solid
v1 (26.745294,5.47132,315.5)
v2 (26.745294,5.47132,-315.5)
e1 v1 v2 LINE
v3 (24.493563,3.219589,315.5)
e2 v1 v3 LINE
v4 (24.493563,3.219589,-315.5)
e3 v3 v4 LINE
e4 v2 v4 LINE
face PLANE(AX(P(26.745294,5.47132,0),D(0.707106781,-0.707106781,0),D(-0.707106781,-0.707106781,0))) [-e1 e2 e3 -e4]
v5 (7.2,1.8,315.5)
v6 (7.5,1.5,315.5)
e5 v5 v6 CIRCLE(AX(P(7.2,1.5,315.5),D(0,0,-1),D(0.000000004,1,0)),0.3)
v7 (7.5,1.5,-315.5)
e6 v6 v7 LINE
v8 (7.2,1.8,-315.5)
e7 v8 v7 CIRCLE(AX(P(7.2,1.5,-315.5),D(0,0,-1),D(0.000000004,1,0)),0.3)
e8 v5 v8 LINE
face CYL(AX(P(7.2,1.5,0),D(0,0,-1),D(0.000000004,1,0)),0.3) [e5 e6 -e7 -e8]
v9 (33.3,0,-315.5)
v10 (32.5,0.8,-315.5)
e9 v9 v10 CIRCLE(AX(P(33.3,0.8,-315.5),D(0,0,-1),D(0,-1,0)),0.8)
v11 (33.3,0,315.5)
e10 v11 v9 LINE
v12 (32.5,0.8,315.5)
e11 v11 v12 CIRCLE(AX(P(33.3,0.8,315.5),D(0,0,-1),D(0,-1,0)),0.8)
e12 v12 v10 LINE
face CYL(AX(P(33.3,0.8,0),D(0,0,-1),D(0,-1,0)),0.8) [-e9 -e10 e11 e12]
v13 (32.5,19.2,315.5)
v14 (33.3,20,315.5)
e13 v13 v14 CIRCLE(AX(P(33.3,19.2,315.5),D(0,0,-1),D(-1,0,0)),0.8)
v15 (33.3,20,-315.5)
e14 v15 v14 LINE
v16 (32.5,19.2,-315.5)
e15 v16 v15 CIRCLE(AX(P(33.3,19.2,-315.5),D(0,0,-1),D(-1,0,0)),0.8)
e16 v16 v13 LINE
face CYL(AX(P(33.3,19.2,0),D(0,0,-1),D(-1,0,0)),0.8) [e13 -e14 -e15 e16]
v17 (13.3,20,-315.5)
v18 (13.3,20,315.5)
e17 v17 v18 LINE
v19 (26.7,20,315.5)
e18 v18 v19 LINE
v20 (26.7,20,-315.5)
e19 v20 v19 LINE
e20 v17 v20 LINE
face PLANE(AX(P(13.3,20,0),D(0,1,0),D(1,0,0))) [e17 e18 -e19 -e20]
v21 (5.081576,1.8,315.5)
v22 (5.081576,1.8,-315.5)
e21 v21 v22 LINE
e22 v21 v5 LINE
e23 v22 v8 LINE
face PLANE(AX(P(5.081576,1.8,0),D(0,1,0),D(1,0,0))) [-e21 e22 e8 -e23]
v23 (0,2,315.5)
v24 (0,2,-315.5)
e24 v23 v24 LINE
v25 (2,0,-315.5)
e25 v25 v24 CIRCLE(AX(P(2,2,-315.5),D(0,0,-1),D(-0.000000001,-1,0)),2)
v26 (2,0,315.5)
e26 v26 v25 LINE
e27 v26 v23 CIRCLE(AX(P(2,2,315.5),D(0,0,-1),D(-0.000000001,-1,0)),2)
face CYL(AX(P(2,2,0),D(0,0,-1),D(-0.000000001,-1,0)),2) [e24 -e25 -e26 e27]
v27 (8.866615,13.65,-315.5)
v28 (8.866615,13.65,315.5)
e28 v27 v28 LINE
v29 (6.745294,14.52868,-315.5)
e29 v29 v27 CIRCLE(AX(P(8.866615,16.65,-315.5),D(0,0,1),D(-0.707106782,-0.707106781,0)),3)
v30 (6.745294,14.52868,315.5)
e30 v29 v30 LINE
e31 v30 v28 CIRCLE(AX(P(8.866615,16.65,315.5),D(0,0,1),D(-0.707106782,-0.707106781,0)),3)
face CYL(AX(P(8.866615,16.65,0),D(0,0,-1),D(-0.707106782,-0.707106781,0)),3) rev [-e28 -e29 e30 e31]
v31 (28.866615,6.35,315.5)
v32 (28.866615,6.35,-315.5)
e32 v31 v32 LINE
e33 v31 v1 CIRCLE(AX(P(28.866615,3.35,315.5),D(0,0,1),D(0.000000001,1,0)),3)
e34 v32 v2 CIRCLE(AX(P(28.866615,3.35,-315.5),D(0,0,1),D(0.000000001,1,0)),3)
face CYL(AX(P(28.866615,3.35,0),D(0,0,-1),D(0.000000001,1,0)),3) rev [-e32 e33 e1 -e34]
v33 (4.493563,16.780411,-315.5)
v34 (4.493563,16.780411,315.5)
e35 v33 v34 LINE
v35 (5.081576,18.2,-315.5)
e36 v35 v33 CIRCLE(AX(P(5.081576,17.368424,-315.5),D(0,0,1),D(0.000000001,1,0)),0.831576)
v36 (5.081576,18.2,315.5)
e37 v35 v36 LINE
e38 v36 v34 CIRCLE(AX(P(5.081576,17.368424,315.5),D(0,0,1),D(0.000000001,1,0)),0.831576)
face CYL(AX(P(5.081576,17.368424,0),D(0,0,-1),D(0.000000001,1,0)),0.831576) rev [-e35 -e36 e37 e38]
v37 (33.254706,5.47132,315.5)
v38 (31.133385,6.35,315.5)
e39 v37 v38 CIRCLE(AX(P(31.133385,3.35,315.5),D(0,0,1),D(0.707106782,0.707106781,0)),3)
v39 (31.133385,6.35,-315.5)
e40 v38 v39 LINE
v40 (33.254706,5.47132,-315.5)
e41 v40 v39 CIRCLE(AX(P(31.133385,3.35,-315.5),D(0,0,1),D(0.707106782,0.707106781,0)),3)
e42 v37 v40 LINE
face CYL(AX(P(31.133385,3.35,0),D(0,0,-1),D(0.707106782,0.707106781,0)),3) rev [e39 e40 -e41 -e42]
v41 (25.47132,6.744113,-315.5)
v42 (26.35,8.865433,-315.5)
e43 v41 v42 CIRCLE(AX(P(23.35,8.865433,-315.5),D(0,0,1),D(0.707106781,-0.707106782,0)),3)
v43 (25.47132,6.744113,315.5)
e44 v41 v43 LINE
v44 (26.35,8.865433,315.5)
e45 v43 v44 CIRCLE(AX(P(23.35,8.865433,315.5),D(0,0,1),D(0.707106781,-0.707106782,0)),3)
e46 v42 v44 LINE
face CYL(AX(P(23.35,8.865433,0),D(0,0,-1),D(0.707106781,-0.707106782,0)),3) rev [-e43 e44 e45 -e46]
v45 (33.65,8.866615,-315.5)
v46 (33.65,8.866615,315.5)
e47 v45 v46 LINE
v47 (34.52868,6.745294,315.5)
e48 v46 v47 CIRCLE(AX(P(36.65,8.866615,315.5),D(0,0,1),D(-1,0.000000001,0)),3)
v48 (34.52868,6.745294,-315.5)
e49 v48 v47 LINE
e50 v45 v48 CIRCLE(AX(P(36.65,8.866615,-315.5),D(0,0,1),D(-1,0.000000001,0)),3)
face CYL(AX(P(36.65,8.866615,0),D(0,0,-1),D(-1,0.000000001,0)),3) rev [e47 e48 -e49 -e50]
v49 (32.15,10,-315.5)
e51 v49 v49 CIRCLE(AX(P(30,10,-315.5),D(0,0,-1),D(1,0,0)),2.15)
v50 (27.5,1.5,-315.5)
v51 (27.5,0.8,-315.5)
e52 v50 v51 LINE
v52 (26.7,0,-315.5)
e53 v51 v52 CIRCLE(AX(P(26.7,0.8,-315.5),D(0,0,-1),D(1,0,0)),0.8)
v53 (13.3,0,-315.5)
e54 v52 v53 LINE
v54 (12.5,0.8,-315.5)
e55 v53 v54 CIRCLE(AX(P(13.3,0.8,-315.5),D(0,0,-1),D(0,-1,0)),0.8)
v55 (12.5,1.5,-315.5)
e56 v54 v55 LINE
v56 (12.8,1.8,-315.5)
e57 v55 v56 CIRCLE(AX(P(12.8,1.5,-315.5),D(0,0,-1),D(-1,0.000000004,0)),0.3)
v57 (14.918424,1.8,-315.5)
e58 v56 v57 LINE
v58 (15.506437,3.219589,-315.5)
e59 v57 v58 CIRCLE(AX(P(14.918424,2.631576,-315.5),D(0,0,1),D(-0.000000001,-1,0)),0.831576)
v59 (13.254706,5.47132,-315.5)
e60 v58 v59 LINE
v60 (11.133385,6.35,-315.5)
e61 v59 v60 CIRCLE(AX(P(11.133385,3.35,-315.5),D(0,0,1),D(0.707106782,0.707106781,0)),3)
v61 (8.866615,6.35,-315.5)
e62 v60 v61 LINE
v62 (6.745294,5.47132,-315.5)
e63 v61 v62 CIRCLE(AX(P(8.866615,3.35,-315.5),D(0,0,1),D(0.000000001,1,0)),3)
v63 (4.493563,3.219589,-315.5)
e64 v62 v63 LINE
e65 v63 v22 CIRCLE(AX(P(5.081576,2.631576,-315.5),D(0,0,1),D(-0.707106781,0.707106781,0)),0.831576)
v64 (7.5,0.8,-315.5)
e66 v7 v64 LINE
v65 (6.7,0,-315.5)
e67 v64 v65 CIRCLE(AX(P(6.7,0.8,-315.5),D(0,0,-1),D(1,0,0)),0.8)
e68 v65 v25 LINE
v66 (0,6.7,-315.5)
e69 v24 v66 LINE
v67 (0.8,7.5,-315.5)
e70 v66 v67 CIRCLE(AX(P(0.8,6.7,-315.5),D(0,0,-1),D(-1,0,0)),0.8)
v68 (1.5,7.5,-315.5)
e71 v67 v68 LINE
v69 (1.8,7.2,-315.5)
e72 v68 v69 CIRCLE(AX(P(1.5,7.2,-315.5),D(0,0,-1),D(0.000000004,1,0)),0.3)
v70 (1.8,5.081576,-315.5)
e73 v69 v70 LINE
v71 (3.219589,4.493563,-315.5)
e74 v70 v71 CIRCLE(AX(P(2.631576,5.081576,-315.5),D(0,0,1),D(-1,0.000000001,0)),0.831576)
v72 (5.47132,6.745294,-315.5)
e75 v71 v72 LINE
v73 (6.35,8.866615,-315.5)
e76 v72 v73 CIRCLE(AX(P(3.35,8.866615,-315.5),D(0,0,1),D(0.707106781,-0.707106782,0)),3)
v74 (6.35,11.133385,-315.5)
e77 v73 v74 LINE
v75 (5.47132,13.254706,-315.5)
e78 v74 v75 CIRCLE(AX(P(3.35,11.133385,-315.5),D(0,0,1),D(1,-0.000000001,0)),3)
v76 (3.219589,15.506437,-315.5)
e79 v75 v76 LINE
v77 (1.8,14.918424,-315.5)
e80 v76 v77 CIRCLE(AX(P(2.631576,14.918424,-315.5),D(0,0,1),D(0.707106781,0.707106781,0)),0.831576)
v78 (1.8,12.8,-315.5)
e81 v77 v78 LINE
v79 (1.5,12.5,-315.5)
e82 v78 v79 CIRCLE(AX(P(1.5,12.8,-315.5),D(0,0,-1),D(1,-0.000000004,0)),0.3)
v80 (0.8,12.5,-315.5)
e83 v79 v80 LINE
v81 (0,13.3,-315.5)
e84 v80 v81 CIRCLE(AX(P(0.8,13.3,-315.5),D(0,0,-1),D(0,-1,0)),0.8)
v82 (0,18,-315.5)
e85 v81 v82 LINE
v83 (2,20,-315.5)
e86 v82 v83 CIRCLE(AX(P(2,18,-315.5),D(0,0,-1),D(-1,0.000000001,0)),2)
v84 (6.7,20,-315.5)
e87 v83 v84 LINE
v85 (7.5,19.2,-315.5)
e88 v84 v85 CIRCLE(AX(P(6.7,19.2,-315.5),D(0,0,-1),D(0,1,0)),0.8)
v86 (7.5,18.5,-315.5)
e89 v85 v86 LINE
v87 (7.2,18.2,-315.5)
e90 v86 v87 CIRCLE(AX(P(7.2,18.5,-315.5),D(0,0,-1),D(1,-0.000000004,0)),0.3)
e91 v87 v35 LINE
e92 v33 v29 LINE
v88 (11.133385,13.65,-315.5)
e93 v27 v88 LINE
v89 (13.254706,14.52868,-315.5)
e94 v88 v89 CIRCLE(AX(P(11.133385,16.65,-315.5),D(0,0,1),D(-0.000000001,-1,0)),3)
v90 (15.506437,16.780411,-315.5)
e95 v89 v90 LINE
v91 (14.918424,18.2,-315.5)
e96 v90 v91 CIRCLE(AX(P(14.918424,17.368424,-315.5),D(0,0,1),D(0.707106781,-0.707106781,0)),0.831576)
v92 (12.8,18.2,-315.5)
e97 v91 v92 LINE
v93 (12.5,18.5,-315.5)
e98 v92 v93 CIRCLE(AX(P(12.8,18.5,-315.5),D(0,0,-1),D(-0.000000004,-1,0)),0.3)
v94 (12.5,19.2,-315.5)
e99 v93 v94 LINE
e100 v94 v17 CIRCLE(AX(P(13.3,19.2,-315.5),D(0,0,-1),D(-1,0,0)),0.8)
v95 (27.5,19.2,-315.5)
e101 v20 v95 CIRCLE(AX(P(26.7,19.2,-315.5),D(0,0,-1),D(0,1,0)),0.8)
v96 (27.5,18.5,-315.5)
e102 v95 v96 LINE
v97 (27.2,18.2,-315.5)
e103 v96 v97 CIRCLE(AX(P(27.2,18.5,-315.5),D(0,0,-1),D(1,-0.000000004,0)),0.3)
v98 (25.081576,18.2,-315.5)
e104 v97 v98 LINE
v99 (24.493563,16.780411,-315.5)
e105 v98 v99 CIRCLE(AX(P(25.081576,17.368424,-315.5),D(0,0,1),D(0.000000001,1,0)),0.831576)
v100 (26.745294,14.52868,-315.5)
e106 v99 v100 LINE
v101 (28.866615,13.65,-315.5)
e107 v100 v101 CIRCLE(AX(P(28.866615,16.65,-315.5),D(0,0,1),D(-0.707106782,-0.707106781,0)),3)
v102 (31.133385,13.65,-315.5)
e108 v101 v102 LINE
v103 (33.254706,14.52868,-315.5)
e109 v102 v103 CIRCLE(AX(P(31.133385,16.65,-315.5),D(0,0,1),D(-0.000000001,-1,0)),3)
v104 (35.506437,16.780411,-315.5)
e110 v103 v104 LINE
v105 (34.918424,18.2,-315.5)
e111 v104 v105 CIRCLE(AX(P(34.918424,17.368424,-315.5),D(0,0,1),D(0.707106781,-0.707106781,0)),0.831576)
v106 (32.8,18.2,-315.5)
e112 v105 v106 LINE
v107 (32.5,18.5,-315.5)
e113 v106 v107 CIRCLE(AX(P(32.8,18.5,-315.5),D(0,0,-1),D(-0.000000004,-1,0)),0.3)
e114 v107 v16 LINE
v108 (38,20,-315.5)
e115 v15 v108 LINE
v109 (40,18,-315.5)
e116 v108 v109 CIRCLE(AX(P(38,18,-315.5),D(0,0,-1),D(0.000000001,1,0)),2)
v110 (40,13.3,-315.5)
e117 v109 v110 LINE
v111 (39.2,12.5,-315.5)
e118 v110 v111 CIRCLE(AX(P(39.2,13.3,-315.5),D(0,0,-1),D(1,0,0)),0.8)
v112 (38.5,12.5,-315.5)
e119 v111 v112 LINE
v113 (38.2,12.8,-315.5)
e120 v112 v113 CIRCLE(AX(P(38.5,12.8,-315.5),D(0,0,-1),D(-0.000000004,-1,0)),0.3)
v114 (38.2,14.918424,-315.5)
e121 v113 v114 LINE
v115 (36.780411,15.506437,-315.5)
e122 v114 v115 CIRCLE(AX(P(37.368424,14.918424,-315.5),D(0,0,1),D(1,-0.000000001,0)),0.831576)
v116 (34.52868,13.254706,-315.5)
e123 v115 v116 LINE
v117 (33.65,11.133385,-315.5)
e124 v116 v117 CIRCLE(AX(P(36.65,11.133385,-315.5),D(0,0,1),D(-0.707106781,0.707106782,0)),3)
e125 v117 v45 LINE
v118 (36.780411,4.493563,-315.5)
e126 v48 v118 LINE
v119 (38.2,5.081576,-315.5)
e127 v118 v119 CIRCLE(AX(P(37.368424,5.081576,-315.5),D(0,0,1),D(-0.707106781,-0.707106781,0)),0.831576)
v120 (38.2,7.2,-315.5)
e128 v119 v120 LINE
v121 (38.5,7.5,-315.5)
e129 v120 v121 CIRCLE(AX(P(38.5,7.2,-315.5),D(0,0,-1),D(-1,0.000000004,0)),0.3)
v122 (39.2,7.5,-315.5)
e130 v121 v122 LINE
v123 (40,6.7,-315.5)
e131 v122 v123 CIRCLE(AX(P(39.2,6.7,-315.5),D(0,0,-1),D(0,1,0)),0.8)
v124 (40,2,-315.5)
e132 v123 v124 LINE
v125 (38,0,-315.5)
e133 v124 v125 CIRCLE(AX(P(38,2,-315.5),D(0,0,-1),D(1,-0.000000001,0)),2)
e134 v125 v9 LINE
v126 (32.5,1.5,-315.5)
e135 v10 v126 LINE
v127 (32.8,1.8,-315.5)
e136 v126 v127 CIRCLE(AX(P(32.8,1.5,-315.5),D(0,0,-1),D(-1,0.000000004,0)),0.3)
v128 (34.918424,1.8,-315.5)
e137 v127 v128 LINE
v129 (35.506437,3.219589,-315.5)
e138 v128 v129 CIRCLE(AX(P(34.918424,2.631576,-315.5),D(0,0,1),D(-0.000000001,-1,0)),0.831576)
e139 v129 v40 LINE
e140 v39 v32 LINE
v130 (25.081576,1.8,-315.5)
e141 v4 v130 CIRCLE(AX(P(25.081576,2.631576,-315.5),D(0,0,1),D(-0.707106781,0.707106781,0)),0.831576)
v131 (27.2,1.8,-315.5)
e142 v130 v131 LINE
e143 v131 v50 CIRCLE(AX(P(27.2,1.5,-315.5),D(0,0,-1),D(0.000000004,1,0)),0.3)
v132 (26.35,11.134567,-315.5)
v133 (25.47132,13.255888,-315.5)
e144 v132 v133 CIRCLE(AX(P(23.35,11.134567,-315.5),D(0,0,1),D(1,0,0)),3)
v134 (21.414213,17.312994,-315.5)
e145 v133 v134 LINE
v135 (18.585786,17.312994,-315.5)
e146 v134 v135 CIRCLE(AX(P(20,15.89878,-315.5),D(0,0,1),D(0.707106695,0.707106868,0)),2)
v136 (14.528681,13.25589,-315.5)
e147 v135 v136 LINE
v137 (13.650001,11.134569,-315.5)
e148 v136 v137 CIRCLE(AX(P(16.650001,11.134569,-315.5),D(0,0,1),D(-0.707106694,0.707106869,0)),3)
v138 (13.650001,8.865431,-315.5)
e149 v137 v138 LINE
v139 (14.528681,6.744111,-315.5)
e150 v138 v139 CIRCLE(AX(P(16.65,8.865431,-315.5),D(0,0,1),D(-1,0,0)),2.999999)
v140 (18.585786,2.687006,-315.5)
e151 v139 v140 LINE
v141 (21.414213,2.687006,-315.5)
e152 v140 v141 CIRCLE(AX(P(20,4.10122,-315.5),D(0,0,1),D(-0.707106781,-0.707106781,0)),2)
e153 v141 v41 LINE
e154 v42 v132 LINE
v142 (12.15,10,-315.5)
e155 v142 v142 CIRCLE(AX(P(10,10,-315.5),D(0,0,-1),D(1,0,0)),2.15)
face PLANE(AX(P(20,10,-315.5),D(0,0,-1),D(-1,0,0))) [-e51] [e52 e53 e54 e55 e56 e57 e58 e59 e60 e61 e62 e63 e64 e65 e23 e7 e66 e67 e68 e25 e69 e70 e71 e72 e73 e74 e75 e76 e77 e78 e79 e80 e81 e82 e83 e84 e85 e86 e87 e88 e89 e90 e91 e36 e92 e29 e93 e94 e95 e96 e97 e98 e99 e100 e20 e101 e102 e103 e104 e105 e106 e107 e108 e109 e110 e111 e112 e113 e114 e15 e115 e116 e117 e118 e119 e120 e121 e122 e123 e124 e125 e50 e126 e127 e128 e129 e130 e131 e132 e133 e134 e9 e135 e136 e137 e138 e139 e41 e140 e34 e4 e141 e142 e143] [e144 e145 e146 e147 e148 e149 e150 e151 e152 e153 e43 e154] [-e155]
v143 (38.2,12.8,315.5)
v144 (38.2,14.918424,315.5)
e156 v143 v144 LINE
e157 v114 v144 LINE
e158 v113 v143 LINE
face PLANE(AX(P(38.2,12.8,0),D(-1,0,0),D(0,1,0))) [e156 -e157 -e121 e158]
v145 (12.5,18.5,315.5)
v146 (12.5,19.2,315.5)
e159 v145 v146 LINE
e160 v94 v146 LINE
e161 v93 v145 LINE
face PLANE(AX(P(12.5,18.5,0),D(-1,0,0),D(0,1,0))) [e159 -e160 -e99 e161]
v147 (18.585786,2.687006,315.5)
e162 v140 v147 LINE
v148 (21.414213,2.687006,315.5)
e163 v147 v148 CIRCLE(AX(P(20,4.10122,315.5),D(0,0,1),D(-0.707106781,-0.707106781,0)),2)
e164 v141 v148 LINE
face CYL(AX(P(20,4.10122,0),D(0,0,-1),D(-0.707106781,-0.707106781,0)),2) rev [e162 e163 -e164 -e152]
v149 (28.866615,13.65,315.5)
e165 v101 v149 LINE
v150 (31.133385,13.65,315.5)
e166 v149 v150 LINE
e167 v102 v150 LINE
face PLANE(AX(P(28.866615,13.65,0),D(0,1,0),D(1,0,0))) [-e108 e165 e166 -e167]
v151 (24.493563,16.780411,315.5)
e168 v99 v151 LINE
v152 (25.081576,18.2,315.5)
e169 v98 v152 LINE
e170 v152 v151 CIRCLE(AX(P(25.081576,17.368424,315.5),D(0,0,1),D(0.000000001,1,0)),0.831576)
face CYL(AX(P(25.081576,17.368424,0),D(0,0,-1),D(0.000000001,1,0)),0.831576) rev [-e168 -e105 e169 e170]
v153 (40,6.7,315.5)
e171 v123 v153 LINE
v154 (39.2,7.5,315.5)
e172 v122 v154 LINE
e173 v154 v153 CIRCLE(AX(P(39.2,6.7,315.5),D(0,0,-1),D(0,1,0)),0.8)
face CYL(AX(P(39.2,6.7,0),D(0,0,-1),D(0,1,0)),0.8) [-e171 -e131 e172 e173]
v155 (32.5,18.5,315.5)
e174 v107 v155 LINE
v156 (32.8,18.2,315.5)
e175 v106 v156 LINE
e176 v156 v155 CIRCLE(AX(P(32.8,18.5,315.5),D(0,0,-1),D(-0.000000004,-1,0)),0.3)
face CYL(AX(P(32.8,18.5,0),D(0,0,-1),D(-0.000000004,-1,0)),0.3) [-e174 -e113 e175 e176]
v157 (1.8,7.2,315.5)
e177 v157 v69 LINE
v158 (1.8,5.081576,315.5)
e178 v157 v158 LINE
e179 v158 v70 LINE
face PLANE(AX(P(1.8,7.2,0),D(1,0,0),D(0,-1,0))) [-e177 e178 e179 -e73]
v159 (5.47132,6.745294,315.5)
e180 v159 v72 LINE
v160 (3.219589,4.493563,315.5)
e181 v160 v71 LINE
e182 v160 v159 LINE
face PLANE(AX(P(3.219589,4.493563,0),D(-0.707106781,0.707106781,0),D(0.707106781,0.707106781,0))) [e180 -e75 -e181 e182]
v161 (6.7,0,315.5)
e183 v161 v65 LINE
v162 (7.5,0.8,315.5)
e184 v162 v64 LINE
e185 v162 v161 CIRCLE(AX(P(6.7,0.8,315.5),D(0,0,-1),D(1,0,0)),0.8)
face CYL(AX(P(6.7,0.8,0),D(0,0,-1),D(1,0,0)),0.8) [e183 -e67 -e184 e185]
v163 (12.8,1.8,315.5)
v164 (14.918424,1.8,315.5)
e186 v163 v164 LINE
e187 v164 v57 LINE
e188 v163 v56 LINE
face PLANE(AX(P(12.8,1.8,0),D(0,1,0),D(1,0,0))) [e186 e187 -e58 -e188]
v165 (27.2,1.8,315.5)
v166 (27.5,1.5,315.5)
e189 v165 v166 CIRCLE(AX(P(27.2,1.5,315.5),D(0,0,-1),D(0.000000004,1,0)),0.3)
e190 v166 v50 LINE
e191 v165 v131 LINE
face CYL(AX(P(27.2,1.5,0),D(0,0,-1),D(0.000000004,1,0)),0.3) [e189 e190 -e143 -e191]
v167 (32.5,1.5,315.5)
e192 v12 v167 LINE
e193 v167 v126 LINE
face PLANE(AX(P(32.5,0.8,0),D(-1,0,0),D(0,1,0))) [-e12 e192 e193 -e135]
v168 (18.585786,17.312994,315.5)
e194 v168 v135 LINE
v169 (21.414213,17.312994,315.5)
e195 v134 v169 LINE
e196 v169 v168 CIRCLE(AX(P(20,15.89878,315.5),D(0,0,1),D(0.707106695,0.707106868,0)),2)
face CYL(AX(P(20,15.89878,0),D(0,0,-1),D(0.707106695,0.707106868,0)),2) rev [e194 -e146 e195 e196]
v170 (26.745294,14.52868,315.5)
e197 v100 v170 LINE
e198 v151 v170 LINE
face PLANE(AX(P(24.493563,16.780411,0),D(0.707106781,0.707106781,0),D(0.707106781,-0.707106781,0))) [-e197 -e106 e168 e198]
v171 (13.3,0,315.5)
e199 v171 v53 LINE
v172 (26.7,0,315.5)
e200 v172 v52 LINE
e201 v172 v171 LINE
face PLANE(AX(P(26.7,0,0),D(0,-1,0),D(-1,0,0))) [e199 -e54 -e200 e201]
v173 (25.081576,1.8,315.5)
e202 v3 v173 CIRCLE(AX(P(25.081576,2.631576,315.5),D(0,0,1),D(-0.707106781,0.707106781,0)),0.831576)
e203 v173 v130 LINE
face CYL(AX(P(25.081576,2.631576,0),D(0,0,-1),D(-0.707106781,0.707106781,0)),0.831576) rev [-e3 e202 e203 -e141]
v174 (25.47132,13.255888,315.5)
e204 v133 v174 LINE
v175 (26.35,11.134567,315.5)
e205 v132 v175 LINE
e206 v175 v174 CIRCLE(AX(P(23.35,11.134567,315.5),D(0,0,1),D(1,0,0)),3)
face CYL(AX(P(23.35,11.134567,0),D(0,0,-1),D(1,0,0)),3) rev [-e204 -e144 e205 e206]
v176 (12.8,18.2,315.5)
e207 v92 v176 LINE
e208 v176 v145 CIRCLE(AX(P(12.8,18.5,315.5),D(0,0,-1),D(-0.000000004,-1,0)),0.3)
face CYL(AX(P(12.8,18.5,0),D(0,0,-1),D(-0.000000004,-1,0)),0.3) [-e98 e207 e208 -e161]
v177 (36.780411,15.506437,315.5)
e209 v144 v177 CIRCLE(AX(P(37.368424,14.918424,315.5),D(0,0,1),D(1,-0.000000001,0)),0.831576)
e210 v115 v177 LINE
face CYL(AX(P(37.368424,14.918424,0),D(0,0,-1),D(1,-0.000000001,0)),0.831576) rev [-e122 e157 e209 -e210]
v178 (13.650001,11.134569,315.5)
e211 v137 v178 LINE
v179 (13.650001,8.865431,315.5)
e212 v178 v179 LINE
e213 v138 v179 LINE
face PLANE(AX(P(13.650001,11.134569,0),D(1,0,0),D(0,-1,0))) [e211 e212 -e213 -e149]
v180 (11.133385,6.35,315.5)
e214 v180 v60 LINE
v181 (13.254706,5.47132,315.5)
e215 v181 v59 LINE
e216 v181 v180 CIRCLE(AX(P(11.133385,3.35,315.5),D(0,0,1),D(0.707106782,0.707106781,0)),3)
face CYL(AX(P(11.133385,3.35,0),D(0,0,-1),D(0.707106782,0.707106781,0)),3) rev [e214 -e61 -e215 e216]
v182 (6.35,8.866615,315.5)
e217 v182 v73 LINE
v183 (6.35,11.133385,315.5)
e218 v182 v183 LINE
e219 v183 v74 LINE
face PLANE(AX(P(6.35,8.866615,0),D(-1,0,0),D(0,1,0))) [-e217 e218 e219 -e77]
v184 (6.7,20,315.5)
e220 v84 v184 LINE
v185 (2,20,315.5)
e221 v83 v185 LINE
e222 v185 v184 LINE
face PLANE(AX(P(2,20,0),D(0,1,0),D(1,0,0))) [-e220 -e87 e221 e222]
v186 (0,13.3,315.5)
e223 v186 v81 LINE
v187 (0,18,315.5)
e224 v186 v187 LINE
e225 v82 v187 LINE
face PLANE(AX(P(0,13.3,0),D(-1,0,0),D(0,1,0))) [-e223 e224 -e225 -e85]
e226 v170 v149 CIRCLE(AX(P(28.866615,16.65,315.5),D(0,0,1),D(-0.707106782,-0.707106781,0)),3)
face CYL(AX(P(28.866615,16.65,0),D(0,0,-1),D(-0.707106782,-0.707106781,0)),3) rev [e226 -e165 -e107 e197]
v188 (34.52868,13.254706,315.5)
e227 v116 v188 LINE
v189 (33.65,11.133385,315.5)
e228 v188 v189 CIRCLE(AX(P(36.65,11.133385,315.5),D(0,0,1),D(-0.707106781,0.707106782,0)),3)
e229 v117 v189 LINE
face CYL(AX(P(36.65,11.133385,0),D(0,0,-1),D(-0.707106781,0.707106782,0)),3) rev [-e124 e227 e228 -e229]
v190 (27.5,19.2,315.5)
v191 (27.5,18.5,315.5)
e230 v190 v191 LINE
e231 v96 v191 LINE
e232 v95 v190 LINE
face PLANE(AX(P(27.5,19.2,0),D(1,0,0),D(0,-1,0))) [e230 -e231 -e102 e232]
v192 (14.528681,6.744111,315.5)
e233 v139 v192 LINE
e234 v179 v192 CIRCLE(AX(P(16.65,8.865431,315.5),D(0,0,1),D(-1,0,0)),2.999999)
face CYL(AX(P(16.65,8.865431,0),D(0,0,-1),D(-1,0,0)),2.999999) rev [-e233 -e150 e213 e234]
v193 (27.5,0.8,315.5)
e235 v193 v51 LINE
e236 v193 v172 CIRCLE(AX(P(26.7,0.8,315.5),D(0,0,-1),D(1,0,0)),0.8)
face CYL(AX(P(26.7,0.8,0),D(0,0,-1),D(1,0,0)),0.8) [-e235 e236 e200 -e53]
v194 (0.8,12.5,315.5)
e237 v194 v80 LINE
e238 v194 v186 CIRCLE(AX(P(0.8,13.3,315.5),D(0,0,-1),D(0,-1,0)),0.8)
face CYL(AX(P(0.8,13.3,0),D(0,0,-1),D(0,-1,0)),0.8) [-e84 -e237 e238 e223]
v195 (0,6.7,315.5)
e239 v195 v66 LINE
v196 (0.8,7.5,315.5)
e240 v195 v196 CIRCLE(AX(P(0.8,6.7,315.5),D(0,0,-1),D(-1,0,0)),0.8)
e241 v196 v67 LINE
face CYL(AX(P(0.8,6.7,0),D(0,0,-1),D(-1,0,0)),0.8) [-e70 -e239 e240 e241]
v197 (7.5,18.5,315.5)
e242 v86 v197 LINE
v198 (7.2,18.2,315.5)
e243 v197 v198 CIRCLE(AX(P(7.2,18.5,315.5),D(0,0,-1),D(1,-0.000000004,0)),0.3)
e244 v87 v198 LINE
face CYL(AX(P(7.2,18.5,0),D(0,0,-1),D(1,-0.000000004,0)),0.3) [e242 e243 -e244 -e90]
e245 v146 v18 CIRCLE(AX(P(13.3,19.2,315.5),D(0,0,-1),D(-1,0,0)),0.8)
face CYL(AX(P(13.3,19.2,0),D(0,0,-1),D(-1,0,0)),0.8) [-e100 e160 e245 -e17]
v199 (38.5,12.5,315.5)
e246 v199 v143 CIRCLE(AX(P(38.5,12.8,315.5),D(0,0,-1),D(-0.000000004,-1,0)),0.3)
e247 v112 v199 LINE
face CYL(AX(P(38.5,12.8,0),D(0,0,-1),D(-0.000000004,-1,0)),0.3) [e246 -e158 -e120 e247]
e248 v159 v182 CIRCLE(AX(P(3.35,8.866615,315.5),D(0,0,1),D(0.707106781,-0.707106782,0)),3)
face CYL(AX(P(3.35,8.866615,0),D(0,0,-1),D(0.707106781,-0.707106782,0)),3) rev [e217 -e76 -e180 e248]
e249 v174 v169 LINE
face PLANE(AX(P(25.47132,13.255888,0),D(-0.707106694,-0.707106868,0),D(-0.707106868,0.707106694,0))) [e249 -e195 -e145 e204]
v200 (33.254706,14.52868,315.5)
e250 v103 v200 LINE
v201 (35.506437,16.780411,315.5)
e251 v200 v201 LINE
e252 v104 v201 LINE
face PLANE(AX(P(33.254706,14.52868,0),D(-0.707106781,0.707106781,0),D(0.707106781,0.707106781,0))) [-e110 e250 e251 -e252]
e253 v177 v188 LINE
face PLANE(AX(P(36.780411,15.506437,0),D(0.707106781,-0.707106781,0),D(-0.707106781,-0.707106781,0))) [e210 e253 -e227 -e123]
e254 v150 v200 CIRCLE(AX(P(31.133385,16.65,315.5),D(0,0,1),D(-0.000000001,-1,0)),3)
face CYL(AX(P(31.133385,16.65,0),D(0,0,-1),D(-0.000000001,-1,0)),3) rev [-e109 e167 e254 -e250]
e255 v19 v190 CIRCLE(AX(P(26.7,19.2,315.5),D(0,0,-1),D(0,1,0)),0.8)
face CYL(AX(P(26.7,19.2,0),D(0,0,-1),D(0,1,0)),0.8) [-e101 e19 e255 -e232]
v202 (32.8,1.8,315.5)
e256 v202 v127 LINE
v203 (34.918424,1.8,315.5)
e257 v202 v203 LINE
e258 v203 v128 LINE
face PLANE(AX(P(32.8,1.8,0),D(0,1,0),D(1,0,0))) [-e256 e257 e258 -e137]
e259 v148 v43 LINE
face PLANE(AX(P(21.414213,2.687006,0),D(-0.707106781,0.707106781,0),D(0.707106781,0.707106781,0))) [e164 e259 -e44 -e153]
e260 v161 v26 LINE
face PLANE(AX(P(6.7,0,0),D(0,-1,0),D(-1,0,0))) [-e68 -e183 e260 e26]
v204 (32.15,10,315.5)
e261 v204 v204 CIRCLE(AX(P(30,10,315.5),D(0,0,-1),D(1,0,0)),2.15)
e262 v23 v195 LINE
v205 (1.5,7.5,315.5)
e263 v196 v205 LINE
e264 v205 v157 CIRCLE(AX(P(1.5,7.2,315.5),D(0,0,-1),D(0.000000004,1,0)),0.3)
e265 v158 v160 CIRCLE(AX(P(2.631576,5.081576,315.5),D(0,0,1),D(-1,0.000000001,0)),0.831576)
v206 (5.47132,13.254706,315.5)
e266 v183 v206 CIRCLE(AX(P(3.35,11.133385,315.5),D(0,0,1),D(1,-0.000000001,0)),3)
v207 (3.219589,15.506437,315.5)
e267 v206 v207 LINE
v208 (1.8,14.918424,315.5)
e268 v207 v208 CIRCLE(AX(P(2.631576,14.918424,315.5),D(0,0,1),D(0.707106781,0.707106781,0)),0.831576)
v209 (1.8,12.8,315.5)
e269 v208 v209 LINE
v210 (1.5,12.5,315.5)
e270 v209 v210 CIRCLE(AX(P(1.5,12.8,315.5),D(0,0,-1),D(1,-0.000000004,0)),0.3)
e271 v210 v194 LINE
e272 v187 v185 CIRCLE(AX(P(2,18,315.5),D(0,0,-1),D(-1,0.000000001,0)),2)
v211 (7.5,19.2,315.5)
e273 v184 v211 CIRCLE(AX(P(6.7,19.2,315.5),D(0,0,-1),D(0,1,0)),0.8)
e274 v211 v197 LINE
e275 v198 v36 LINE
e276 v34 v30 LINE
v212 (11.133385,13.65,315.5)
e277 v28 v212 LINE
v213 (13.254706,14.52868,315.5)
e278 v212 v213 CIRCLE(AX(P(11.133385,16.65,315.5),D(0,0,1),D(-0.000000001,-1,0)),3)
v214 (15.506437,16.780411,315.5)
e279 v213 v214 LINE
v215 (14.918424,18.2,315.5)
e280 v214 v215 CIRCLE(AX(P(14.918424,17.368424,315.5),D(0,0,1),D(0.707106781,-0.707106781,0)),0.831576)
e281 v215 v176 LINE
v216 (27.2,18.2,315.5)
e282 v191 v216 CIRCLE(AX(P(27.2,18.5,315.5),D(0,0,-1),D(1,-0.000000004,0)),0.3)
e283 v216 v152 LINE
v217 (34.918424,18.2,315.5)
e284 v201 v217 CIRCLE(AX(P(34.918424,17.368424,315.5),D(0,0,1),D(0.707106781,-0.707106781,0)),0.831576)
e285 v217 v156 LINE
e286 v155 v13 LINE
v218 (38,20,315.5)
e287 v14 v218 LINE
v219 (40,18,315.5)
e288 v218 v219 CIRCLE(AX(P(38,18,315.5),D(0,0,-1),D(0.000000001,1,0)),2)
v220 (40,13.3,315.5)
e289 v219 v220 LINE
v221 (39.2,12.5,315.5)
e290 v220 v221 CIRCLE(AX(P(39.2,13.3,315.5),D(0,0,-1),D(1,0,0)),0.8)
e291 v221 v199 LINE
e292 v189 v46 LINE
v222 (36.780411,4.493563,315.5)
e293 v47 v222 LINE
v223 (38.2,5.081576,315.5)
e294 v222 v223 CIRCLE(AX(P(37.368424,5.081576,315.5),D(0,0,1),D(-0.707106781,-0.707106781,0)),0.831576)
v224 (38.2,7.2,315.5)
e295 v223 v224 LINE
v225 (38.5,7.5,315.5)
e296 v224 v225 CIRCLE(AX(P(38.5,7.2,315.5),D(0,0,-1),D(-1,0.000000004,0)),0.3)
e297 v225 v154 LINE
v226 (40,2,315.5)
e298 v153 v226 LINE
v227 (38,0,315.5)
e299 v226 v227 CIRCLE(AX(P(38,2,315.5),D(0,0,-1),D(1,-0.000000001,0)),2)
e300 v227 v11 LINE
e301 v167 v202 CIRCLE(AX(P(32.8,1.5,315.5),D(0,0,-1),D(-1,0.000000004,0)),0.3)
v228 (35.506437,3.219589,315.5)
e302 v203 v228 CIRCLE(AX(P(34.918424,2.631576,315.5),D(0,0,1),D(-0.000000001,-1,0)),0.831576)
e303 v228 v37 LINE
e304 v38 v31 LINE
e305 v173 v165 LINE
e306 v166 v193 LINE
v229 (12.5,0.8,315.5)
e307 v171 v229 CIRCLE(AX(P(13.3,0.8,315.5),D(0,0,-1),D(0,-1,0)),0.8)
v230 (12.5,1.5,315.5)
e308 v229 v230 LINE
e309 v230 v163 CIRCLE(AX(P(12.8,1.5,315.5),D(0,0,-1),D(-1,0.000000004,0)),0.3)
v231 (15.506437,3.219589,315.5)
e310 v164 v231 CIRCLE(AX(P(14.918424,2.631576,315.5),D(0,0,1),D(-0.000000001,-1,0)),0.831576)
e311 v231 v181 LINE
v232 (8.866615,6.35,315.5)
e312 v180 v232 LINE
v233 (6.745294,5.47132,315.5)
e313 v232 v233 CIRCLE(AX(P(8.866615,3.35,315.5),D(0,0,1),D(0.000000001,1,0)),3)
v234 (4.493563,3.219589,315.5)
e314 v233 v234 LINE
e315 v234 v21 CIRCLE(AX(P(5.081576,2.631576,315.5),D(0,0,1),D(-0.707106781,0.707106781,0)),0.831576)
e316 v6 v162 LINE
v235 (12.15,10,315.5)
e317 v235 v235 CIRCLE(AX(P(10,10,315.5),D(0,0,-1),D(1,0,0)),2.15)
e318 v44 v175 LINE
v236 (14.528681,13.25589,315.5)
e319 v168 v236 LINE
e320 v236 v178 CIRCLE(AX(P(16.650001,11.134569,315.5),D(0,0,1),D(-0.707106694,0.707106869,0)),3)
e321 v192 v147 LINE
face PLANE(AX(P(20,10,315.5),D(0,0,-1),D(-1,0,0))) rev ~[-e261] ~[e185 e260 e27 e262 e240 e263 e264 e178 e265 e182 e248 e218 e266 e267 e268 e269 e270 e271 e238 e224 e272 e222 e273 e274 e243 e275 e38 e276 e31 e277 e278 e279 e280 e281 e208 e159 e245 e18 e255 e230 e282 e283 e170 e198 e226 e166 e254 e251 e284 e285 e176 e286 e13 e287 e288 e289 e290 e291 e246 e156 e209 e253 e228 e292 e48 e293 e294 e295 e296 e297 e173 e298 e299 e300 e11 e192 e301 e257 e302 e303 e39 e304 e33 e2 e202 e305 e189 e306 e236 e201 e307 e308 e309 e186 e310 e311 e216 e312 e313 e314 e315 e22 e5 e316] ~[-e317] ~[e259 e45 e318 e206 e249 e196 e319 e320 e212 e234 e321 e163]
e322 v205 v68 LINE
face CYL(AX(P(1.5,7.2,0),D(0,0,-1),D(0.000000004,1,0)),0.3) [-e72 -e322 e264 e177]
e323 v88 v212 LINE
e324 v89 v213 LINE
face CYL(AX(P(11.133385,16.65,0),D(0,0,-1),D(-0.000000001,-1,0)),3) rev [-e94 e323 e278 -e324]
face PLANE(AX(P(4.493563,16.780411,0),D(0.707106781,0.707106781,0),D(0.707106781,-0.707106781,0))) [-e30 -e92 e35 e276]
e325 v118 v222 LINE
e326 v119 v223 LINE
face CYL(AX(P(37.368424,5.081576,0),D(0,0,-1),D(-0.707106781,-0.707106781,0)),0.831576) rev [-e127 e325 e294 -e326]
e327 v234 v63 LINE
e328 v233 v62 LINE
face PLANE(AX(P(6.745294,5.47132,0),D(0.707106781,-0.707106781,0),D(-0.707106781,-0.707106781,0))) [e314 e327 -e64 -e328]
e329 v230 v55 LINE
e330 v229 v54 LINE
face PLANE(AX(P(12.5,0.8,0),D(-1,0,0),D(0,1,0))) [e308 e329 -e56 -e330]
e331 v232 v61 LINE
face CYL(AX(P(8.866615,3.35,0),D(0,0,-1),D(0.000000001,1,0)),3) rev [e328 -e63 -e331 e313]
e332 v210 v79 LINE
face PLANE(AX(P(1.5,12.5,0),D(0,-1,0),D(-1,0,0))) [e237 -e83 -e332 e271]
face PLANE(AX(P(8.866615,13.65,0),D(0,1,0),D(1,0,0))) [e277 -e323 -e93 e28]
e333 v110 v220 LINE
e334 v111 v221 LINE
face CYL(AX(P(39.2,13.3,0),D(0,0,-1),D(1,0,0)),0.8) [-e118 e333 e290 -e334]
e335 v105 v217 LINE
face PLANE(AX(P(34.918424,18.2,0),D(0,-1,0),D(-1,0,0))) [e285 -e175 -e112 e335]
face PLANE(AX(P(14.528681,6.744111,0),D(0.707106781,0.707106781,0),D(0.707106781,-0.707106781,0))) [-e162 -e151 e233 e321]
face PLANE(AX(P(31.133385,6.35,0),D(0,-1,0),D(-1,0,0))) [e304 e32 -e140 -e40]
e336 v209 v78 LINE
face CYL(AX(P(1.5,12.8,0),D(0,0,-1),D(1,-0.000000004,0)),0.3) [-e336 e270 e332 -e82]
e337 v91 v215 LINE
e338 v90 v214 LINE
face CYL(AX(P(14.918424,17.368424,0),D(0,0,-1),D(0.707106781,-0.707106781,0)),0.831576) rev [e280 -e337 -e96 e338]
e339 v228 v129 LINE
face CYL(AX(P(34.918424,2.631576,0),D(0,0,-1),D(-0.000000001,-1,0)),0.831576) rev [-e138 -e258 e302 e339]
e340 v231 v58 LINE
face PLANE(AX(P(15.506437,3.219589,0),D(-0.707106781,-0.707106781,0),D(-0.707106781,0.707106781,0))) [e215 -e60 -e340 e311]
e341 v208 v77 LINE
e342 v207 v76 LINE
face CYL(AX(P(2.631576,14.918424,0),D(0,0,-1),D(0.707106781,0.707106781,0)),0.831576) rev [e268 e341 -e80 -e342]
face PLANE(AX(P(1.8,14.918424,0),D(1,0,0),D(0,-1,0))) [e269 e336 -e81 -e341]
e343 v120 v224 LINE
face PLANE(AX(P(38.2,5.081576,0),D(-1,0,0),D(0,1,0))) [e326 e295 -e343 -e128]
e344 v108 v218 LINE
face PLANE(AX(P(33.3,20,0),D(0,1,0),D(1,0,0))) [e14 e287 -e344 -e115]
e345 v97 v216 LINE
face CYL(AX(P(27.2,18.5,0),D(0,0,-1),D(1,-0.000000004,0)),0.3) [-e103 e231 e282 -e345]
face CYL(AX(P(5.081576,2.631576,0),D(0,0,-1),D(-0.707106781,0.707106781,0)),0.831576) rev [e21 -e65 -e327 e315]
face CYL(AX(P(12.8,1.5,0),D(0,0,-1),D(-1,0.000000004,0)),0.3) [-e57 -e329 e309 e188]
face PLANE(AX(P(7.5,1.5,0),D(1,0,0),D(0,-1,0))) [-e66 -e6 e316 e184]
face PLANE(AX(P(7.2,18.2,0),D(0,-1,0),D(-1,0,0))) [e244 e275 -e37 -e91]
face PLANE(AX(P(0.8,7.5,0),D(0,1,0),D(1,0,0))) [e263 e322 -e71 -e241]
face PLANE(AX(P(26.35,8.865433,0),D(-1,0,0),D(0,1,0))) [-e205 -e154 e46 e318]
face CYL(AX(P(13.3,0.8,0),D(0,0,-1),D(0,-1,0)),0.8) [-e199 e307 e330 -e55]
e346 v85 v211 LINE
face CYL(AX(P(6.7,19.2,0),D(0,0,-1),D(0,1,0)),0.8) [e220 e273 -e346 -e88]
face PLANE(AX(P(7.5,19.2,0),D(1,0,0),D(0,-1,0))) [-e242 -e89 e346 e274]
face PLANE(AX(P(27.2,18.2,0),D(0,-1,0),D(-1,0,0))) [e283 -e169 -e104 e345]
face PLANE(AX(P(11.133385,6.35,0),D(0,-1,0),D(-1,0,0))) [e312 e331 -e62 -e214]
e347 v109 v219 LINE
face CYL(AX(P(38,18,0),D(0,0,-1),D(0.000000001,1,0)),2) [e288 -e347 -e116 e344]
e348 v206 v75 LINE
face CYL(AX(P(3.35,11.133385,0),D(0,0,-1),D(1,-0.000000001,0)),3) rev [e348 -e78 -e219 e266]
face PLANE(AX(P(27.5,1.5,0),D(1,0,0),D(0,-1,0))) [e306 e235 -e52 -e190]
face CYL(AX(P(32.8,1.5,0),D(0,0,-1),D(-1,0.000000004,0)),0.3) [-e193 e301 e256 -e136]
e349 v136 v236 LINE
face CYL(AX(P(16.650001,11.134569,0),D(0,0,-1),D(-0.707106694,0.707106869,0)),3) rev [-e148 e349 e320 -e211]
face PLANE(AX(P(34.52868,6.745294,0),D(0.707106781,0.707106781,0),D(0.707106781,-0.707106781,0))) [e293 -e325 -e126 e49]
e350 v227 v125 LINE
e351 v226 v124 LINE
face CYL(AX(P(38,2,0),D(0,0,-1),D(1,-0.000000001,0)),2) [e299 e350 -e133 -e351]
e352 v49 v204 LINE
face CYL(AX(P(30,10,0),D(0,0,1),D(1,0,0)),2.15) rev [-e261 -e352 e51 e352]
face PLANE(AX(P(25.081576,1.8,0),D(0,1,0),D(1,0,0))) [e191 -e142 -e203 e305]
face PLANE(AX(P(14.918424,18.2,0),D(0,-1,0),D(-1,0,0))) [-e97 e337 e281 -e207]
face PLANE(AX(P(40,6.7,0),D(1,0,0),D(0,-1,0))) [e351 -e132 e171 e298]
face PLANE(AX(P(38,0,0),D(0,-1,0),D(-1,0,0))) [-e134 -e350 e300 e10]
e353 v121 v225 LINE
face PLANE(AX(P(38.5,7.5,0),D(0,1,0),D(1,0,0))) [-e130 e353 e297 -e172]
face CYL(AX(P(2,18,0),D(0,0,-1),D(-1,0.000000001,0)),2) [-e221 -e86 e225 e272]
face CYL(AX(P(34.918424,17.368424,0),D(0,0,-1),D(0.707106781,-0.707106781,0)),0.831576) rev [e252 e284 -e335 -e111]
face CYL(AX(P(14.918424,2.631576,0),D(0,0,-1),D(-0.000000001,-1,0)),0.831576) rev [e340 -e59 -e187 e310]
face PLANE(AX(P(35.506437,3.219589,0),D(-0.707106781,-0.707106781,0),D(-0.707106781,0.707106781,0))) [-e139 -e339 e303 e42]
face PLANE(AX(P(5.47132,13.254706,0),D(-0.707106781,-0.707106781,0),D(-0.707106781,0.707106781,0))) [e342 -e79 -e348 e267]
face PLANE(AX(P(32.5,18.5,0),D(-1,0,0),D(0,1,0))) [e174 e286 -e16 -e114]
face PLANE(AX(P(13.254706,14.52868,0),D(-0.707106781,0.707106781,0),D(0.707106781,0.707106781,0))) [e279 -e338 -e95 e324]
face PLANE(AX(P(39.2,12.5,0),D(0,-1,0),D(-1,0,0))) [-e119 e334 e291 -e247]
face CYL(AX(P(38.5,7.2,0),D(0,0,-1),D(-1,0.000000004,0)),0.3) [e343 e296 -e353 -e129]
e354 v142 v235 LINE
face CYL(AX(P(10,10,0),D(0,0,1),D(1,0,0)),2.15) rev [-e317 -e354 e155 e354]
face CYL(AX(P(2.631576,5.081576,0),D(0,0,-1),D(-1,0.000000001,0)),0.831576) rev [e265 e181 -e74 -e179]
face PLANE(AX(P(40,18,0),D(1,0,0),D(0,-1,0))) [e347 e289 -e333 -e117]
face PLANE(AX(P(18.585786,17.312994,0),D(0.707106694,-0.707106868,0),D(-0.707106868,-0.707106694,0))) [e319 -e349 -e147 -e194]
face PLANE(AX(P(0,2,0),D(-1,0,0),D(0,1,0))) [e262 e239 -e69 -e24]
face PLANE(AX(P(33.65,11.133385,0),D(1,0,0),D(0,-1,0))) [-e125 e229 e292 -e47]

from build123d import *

# Parameters (mm, degrees)
ESQUISSE1_R        = 2.15
BOSS_EXTRU_1_DEPTH = 315.5


with BuildPart() as part:
    # Esquisse1 → Boss.-Extru.1 (new, symmetric)
    with BuildSketch(Plane(origin=(0, 0, 0), x_dir=(-1, 0, 0), z_dir=(0, 0, -1))):
        with BuildLine():
            Line((-40, 6.7), (-40, 2))
            ThreePointArc((-40, 2), (-39.414213562, 0.585786438), (-38, 0))
            Line((-38, 0), (-33.3, 0))
            ThreePointArc((-33.3, 0), (-32.734314575, 0.234314575), (-32.5, 0.8))
            Line((-32.5, 0.8), (-32.5, 1.5))
            ThreePointArc((-32.5, 1.5), (-32.587867966, 1.712132034), (-32.8, 1.8))
            Line((-32.8, 1.8), (-34.918424061, 1.8))
            ThreePointArc((-34.918424061, 1.8), (-35.686700051, 2.313345604), (-35.506437047, 3.219588924))
            Line((-35.506437047, 3.219588924), (-33.254705627, 5.471320344))
            ThreePointArc((-33.254705627, 5.471320344), (-32.281435581, 6.121638598), (-31.133385284, 6.35))
            Line((-31.133385284, 6.35), (-28.866614716, 6.35))
            ThreePointArc((-28.866614716, 6.35), (-27.718564419, 6.121638598), (-26.745294373, 5.471320344))
            Line((-26.745294373, 5.471320344), (-24.493562953, 3.219588924))
            ThreePointArc((-24.493562953, 3.219588924), (-24.313299949, 2.313345604), (-25.081575939, 1.8))
            Line((-25.081575939, 1.8), (-27.2, 1.8))
            ThreePointArc((-27.2, 1.8), (-27.412132034, 1.712132034), (-27.5, 1.5))
            Line((-27.5, 1.5), (-27.5, 0.8))
            ThreePointArc((-27.5, 0.8), (-27.265685425, 0.234314575), (-26.7, 0))
            Line((-26.7, 0), (-13.3, 0))
            ThreePointArc((-13.3, 0), (-12.734314575, 0.234314575), (-12.5, 0.8))
            Line((-12.5, 0.8), (-12.5, 1.5))
            ThreePointArc((-12.5, 1.5), (-12.587867966, 1.712132034), (-12.8, 1.8))
            Line((-12.8, 1.8), (-14.918424061, 1.8))
            ThreePointArc((-14.918424061, 1.8), (-15.686700051, 2.313345604), (-15.506437047, 3.219588924))
            Line((-15.506437047, 3.219588924), (-13.254705627, 5.471320344))
            ThreePointArc((-13.254705627, 5.471320344), (-12.281435581, 6.121638598), (-11.133385284, 6.35))
            Line((-11.133385284, 6.35), (-8.866614716, 6.35))
            ThreePointArc((-8.866614716, 6.35), (-7.718564419, 6.121638598), (-6.745294373, 5.471320344))
            Line((-6.745294373, 5.471320344), (-4.493562953, 3.219588924))
            ThreePointArc((-4.493562953, 3.219588924), (-4.313299949, 2.313345604), (-5.081575939, 1.8))
            Line((-5.081575939, 1.8), (-7.2, 1.8))
            ThreePointArc((-7.2, 1.8), (-7.412132034, 1.712132034), (-7.5, 1.5))
            Line((-7.5, 1.5), (-7.5, 0.8))
            ThreePointArc((-7.5, 0.8), (-7.265685425, 0.234314575), (-6.7, 0))
            Line((-6.7, 0), (-2, 0))
            ThreePointArc((-2, 0), (-0.585786438, 0.585786438), (0, 2))
            Line((0, 2), (0, 6.7))
            ThreePointArc((0, 6.7), (-0.234314575, 7.265685425), (-0.8, 7.5))
            Line((-0.8, 7.5), (-1.5, 7.5))
            ThreePointArc((-1.5, 7.5), (-1.712132034, 7.412132034), (-1.8, 7.2))
            Line((-1.8, 7.2), (-1.8, 5.081575939))
            ThreePointArc((-1.8, 5.081575939), (-2.313345604, 4.313299949), (-3.219588924, 4.493562953))
            Line((-3.219588924, 4.493562953), (-5.471320344, 6.745294373))
            ThreePointArc((-5.471320344, 6.745294373), (-6.121638598, 7.718564419), (-6.35, 8.866614716))
            Line((-6.35, 8.866614716), (-6.35, 11.133385284))
            ThreePointArc((-6.35, 11.133385284), (-6.121638598, 12.281435581), (-5.471320344, 13.254705627))
            Line((-5.471320344, 13.254705627), (-3.219588924, 15.506437047))
            ThreePointArc((-3.219588924, 15.506437047), (-2.313345604, 15.686700051), (-1.8, 14.918424061))
            Line((-1.8, 14.918424061), (-1.8, 12.8))
            ThreePointArc((-1.8, 12.8), (-1.712132034, 12.587867966), (-1.5, 12.5))
            Line((-1.5, 12.5), (-0.8, 12.5))
            ThreePointArc((-0.8, 12.5), (-0.234314575, 12.734314575), (0, 13.3))
            Line((0, 13.3), (0, 18))
            ThreePointArc((0, 18), (-0.585786438, 19.414213562), (-2, 20))
            Line((-2, 20), (-6.7, 20))
            ThreePointArc((-6.7, 20), (-7.265685425, 19.765685425), (-7.5, 19.2))
            Line((-7.5, 19.2), (-7.5, 18.5))
            ThreePointArc((-7.5, 18.5), (-7.412132034, 18.287867966), (-7.2, 18.2))
            Line((-7.2, 18.2), (-5.081575939, 18.2))
            ThreePointArc((-5.081575939, 18.2), (-4.313299949, 17.686654396), (-4.493562953, 16.780411076))
            Line((-4.493562953, 16.780411076), (-6.745294373, 14.528679656))
            ThreePointArc((-6.745294373, 14.528679656), (-7.718564419, 13.878361402), (-8.866614716, 13.65))
            Line((-8.866614716, 13.65), (-11.133385284, 13.65))
            ThreePointArc((-11.133385284, 13.65), (-12.281435581, 13.878361402), (-13.254705627, 14.528679656))
            Line((-13.254705627, 14.528679656), (-15.506437047, 16.780411076))
            ThreePointArc((-15.506437047, 16.780411076), (-15.686700051, 17.686654396), (-14.918424061, 18.2))
            Line((-14.918424061, 18.2), (-12.8, 18.2))
            ThreePointArc((-12.8, 18.2), (-12.587867966, 18.287867966), (-12.5, 18.5))
            Line((-12.5, 18.5), (-12.5, 19.2))
            ThreePointArc((-12.5, 19.2), (-12.734314575, 19.765685425), (-13.3, 20))
            Line((-13.3, 20), (-26.7, 20))
            ThreePointArc((-26.7, 20), (-27.265685425, 19.765685425), (-27.5, 19.2))
            Line((-27.5, 19.2), (-27.5, 18.5))
            ThreePointArc((-27.5, 18.5), (-27.412132034, 18.287867966), (-27.2, 18.2))
            Line((-27.2, 18.2), (-25.081575939, 18.2))
            ThreePointArc((-25.081575939, 18.2), (-24.313299949, 17.686654396), (-24.493562953, 16.780411076))
            Line((-24.493562953, 16.780411076), (-26.745294373, 14.528679656))
            ThreePointArc((-26.745294373, 14.528679656), (-27.718564419, 13.878361402), (-28.866614716, 13.65))
            Line((-28.866614716, 13.65), (-31.133385284, 13.65))
            ThreePointArc((-31.133385284, 13.65), (-32.281435581, 13.878361402), (-33.254705627, 14.528679656))
            Line((-33.254705627, 14.528679656), (-35.506437047, 16.780411076))
            ThreePointArc((-35.506437047, 16.780411076), (-35.686700051, 17.686654396), (-34.918424061, 18.2))
            Line((-34.918424061, 18.2), (-32.8, 18.2))
            ThreePointArc((-32.8, 18.2), (-32.587867966, 18.287867966), (-32.5, 18.5))
            Line((-32.5, 18.5), (-32.5, 19.2))
            ThreePointArc((-32.5, 19.2), (-32.734314575, 19.765685425), (-33.3, 20))
            Line((-33.3, 20), (-38, 20))
            ThreePointArc((-38, 20), (-39.414213562, 19.414213562), (-40, 18))
            Line((-40, 18), (-40, 13.3))
            ThreePointArc((-40, 13.3), (-39.765685425, 12.734314575), (-39.2, 12.5))
            Line((-39.2, 12.5), (-38.5, 12.5))
            ThreePointArc((-38.5, 12.5), (-38.287867966, 12.587867966), (-38.2, 12.8))
            Line((-38.2, 12.8), (-38.2, 14.918424061))
            ThreePointArc((-38.2, 14.918424061), (-37.686654396, 15.686700051), (-36.780411076, 15.506437047))
            Line((-36.780411076, 15.506437047), (-34.528679656, 13.254705627))
            ThreePointArc((-34.528679656, 13.254705627), (-33.878361402, 12.281435581), (-33.65, 11.133385284))
            Line((-33.65, 11.133385284), (-33.65, 8.866614716))
            ThreePointArc((-33.65, 8.866614716), (-33.878361402, 7.718564419), (-34.528679656, 6.745294373))
            Line((-34.528679656, 6.745294373), (-36.780411076, 4.493562953))
            ThreePointArc((-36.780411076, 4.493562953), (-37.686654396, 4.313299949), (-38.2, 5.081575939))
            Line((-38.2, 5.081575939), (-38.2, 7.2))
            ThreePointArc((-38.2, 7.2), (-38.287867966, 7.412132034), (-38.5, 7.5))
            Line((-38.5, 7.5), (-39.2, 7.5))
            ThreePointArc((-39.2, 7.5), (-39.765685425, 7.265685425), (-40, 6.7))
        make_face()
        with Locations(Location((-10, 10, 0), (0, 0, 180))):
            Circle(ESQUISSE1_R, mode=Mode.SUBTRACT)
        with Locations(Location((-30, 10, 0), (0, 0, 180))):
            Circle(ESQUISSE1_R, mode=Mode.SUBTRACT)
        with BuildLine():
            Line((-18.585786174, 17.312993861), (-14.528681072, 13.255889759))
            ThreePointArc((-14.528681072, 13.255889759), (-13.878362627, 12.282619622), (-13.650001154, 11.134569154))
            Line((-13.650001154, 11.134569154), (-13.650001154, 8.865431094))
            ThreePointArc((-13.650001154, 8.865431094), (-13.878362476, 7.717381202), (-14.5286805, 6.7441115))
            Line((-14.5286805, 6.7441115), (-18.585786, 2.687006))
            ThreePointArc((-18.585786, 2.687006), (-19.999999562, 2.101219562), (-21.414213125, 2.687006))
            Line((-21.414213125, 2.687006), (-25.471320125, 6.744113))
            ThreePointArc((-25.471320125, 6.744113), (-26.121638379, 7.717383046), (-26.349999781, 8.865433344))
            Line((-26.349999781, 8.865433344), (-26.349999781, 11.134567344))
            ThreePointArc((-26.349999781, 11.134567344), (-26.121638308, 12.282617811), (-25.471319863, 13.255887949))
            Line((-25.471319863, 13.255887949), (-21.41421295, 17.312993861))
            ThreePointArc((-21.41421295, 17.312993861), (-19.999999562, 17.898780125), (-18.585786174, 17.312993861))
        make_face(mode=Mode.SUBTRACT)
    extrude(amount=BOSS_EXTRU_1_DEPTH, both=True)


solid = part.part
